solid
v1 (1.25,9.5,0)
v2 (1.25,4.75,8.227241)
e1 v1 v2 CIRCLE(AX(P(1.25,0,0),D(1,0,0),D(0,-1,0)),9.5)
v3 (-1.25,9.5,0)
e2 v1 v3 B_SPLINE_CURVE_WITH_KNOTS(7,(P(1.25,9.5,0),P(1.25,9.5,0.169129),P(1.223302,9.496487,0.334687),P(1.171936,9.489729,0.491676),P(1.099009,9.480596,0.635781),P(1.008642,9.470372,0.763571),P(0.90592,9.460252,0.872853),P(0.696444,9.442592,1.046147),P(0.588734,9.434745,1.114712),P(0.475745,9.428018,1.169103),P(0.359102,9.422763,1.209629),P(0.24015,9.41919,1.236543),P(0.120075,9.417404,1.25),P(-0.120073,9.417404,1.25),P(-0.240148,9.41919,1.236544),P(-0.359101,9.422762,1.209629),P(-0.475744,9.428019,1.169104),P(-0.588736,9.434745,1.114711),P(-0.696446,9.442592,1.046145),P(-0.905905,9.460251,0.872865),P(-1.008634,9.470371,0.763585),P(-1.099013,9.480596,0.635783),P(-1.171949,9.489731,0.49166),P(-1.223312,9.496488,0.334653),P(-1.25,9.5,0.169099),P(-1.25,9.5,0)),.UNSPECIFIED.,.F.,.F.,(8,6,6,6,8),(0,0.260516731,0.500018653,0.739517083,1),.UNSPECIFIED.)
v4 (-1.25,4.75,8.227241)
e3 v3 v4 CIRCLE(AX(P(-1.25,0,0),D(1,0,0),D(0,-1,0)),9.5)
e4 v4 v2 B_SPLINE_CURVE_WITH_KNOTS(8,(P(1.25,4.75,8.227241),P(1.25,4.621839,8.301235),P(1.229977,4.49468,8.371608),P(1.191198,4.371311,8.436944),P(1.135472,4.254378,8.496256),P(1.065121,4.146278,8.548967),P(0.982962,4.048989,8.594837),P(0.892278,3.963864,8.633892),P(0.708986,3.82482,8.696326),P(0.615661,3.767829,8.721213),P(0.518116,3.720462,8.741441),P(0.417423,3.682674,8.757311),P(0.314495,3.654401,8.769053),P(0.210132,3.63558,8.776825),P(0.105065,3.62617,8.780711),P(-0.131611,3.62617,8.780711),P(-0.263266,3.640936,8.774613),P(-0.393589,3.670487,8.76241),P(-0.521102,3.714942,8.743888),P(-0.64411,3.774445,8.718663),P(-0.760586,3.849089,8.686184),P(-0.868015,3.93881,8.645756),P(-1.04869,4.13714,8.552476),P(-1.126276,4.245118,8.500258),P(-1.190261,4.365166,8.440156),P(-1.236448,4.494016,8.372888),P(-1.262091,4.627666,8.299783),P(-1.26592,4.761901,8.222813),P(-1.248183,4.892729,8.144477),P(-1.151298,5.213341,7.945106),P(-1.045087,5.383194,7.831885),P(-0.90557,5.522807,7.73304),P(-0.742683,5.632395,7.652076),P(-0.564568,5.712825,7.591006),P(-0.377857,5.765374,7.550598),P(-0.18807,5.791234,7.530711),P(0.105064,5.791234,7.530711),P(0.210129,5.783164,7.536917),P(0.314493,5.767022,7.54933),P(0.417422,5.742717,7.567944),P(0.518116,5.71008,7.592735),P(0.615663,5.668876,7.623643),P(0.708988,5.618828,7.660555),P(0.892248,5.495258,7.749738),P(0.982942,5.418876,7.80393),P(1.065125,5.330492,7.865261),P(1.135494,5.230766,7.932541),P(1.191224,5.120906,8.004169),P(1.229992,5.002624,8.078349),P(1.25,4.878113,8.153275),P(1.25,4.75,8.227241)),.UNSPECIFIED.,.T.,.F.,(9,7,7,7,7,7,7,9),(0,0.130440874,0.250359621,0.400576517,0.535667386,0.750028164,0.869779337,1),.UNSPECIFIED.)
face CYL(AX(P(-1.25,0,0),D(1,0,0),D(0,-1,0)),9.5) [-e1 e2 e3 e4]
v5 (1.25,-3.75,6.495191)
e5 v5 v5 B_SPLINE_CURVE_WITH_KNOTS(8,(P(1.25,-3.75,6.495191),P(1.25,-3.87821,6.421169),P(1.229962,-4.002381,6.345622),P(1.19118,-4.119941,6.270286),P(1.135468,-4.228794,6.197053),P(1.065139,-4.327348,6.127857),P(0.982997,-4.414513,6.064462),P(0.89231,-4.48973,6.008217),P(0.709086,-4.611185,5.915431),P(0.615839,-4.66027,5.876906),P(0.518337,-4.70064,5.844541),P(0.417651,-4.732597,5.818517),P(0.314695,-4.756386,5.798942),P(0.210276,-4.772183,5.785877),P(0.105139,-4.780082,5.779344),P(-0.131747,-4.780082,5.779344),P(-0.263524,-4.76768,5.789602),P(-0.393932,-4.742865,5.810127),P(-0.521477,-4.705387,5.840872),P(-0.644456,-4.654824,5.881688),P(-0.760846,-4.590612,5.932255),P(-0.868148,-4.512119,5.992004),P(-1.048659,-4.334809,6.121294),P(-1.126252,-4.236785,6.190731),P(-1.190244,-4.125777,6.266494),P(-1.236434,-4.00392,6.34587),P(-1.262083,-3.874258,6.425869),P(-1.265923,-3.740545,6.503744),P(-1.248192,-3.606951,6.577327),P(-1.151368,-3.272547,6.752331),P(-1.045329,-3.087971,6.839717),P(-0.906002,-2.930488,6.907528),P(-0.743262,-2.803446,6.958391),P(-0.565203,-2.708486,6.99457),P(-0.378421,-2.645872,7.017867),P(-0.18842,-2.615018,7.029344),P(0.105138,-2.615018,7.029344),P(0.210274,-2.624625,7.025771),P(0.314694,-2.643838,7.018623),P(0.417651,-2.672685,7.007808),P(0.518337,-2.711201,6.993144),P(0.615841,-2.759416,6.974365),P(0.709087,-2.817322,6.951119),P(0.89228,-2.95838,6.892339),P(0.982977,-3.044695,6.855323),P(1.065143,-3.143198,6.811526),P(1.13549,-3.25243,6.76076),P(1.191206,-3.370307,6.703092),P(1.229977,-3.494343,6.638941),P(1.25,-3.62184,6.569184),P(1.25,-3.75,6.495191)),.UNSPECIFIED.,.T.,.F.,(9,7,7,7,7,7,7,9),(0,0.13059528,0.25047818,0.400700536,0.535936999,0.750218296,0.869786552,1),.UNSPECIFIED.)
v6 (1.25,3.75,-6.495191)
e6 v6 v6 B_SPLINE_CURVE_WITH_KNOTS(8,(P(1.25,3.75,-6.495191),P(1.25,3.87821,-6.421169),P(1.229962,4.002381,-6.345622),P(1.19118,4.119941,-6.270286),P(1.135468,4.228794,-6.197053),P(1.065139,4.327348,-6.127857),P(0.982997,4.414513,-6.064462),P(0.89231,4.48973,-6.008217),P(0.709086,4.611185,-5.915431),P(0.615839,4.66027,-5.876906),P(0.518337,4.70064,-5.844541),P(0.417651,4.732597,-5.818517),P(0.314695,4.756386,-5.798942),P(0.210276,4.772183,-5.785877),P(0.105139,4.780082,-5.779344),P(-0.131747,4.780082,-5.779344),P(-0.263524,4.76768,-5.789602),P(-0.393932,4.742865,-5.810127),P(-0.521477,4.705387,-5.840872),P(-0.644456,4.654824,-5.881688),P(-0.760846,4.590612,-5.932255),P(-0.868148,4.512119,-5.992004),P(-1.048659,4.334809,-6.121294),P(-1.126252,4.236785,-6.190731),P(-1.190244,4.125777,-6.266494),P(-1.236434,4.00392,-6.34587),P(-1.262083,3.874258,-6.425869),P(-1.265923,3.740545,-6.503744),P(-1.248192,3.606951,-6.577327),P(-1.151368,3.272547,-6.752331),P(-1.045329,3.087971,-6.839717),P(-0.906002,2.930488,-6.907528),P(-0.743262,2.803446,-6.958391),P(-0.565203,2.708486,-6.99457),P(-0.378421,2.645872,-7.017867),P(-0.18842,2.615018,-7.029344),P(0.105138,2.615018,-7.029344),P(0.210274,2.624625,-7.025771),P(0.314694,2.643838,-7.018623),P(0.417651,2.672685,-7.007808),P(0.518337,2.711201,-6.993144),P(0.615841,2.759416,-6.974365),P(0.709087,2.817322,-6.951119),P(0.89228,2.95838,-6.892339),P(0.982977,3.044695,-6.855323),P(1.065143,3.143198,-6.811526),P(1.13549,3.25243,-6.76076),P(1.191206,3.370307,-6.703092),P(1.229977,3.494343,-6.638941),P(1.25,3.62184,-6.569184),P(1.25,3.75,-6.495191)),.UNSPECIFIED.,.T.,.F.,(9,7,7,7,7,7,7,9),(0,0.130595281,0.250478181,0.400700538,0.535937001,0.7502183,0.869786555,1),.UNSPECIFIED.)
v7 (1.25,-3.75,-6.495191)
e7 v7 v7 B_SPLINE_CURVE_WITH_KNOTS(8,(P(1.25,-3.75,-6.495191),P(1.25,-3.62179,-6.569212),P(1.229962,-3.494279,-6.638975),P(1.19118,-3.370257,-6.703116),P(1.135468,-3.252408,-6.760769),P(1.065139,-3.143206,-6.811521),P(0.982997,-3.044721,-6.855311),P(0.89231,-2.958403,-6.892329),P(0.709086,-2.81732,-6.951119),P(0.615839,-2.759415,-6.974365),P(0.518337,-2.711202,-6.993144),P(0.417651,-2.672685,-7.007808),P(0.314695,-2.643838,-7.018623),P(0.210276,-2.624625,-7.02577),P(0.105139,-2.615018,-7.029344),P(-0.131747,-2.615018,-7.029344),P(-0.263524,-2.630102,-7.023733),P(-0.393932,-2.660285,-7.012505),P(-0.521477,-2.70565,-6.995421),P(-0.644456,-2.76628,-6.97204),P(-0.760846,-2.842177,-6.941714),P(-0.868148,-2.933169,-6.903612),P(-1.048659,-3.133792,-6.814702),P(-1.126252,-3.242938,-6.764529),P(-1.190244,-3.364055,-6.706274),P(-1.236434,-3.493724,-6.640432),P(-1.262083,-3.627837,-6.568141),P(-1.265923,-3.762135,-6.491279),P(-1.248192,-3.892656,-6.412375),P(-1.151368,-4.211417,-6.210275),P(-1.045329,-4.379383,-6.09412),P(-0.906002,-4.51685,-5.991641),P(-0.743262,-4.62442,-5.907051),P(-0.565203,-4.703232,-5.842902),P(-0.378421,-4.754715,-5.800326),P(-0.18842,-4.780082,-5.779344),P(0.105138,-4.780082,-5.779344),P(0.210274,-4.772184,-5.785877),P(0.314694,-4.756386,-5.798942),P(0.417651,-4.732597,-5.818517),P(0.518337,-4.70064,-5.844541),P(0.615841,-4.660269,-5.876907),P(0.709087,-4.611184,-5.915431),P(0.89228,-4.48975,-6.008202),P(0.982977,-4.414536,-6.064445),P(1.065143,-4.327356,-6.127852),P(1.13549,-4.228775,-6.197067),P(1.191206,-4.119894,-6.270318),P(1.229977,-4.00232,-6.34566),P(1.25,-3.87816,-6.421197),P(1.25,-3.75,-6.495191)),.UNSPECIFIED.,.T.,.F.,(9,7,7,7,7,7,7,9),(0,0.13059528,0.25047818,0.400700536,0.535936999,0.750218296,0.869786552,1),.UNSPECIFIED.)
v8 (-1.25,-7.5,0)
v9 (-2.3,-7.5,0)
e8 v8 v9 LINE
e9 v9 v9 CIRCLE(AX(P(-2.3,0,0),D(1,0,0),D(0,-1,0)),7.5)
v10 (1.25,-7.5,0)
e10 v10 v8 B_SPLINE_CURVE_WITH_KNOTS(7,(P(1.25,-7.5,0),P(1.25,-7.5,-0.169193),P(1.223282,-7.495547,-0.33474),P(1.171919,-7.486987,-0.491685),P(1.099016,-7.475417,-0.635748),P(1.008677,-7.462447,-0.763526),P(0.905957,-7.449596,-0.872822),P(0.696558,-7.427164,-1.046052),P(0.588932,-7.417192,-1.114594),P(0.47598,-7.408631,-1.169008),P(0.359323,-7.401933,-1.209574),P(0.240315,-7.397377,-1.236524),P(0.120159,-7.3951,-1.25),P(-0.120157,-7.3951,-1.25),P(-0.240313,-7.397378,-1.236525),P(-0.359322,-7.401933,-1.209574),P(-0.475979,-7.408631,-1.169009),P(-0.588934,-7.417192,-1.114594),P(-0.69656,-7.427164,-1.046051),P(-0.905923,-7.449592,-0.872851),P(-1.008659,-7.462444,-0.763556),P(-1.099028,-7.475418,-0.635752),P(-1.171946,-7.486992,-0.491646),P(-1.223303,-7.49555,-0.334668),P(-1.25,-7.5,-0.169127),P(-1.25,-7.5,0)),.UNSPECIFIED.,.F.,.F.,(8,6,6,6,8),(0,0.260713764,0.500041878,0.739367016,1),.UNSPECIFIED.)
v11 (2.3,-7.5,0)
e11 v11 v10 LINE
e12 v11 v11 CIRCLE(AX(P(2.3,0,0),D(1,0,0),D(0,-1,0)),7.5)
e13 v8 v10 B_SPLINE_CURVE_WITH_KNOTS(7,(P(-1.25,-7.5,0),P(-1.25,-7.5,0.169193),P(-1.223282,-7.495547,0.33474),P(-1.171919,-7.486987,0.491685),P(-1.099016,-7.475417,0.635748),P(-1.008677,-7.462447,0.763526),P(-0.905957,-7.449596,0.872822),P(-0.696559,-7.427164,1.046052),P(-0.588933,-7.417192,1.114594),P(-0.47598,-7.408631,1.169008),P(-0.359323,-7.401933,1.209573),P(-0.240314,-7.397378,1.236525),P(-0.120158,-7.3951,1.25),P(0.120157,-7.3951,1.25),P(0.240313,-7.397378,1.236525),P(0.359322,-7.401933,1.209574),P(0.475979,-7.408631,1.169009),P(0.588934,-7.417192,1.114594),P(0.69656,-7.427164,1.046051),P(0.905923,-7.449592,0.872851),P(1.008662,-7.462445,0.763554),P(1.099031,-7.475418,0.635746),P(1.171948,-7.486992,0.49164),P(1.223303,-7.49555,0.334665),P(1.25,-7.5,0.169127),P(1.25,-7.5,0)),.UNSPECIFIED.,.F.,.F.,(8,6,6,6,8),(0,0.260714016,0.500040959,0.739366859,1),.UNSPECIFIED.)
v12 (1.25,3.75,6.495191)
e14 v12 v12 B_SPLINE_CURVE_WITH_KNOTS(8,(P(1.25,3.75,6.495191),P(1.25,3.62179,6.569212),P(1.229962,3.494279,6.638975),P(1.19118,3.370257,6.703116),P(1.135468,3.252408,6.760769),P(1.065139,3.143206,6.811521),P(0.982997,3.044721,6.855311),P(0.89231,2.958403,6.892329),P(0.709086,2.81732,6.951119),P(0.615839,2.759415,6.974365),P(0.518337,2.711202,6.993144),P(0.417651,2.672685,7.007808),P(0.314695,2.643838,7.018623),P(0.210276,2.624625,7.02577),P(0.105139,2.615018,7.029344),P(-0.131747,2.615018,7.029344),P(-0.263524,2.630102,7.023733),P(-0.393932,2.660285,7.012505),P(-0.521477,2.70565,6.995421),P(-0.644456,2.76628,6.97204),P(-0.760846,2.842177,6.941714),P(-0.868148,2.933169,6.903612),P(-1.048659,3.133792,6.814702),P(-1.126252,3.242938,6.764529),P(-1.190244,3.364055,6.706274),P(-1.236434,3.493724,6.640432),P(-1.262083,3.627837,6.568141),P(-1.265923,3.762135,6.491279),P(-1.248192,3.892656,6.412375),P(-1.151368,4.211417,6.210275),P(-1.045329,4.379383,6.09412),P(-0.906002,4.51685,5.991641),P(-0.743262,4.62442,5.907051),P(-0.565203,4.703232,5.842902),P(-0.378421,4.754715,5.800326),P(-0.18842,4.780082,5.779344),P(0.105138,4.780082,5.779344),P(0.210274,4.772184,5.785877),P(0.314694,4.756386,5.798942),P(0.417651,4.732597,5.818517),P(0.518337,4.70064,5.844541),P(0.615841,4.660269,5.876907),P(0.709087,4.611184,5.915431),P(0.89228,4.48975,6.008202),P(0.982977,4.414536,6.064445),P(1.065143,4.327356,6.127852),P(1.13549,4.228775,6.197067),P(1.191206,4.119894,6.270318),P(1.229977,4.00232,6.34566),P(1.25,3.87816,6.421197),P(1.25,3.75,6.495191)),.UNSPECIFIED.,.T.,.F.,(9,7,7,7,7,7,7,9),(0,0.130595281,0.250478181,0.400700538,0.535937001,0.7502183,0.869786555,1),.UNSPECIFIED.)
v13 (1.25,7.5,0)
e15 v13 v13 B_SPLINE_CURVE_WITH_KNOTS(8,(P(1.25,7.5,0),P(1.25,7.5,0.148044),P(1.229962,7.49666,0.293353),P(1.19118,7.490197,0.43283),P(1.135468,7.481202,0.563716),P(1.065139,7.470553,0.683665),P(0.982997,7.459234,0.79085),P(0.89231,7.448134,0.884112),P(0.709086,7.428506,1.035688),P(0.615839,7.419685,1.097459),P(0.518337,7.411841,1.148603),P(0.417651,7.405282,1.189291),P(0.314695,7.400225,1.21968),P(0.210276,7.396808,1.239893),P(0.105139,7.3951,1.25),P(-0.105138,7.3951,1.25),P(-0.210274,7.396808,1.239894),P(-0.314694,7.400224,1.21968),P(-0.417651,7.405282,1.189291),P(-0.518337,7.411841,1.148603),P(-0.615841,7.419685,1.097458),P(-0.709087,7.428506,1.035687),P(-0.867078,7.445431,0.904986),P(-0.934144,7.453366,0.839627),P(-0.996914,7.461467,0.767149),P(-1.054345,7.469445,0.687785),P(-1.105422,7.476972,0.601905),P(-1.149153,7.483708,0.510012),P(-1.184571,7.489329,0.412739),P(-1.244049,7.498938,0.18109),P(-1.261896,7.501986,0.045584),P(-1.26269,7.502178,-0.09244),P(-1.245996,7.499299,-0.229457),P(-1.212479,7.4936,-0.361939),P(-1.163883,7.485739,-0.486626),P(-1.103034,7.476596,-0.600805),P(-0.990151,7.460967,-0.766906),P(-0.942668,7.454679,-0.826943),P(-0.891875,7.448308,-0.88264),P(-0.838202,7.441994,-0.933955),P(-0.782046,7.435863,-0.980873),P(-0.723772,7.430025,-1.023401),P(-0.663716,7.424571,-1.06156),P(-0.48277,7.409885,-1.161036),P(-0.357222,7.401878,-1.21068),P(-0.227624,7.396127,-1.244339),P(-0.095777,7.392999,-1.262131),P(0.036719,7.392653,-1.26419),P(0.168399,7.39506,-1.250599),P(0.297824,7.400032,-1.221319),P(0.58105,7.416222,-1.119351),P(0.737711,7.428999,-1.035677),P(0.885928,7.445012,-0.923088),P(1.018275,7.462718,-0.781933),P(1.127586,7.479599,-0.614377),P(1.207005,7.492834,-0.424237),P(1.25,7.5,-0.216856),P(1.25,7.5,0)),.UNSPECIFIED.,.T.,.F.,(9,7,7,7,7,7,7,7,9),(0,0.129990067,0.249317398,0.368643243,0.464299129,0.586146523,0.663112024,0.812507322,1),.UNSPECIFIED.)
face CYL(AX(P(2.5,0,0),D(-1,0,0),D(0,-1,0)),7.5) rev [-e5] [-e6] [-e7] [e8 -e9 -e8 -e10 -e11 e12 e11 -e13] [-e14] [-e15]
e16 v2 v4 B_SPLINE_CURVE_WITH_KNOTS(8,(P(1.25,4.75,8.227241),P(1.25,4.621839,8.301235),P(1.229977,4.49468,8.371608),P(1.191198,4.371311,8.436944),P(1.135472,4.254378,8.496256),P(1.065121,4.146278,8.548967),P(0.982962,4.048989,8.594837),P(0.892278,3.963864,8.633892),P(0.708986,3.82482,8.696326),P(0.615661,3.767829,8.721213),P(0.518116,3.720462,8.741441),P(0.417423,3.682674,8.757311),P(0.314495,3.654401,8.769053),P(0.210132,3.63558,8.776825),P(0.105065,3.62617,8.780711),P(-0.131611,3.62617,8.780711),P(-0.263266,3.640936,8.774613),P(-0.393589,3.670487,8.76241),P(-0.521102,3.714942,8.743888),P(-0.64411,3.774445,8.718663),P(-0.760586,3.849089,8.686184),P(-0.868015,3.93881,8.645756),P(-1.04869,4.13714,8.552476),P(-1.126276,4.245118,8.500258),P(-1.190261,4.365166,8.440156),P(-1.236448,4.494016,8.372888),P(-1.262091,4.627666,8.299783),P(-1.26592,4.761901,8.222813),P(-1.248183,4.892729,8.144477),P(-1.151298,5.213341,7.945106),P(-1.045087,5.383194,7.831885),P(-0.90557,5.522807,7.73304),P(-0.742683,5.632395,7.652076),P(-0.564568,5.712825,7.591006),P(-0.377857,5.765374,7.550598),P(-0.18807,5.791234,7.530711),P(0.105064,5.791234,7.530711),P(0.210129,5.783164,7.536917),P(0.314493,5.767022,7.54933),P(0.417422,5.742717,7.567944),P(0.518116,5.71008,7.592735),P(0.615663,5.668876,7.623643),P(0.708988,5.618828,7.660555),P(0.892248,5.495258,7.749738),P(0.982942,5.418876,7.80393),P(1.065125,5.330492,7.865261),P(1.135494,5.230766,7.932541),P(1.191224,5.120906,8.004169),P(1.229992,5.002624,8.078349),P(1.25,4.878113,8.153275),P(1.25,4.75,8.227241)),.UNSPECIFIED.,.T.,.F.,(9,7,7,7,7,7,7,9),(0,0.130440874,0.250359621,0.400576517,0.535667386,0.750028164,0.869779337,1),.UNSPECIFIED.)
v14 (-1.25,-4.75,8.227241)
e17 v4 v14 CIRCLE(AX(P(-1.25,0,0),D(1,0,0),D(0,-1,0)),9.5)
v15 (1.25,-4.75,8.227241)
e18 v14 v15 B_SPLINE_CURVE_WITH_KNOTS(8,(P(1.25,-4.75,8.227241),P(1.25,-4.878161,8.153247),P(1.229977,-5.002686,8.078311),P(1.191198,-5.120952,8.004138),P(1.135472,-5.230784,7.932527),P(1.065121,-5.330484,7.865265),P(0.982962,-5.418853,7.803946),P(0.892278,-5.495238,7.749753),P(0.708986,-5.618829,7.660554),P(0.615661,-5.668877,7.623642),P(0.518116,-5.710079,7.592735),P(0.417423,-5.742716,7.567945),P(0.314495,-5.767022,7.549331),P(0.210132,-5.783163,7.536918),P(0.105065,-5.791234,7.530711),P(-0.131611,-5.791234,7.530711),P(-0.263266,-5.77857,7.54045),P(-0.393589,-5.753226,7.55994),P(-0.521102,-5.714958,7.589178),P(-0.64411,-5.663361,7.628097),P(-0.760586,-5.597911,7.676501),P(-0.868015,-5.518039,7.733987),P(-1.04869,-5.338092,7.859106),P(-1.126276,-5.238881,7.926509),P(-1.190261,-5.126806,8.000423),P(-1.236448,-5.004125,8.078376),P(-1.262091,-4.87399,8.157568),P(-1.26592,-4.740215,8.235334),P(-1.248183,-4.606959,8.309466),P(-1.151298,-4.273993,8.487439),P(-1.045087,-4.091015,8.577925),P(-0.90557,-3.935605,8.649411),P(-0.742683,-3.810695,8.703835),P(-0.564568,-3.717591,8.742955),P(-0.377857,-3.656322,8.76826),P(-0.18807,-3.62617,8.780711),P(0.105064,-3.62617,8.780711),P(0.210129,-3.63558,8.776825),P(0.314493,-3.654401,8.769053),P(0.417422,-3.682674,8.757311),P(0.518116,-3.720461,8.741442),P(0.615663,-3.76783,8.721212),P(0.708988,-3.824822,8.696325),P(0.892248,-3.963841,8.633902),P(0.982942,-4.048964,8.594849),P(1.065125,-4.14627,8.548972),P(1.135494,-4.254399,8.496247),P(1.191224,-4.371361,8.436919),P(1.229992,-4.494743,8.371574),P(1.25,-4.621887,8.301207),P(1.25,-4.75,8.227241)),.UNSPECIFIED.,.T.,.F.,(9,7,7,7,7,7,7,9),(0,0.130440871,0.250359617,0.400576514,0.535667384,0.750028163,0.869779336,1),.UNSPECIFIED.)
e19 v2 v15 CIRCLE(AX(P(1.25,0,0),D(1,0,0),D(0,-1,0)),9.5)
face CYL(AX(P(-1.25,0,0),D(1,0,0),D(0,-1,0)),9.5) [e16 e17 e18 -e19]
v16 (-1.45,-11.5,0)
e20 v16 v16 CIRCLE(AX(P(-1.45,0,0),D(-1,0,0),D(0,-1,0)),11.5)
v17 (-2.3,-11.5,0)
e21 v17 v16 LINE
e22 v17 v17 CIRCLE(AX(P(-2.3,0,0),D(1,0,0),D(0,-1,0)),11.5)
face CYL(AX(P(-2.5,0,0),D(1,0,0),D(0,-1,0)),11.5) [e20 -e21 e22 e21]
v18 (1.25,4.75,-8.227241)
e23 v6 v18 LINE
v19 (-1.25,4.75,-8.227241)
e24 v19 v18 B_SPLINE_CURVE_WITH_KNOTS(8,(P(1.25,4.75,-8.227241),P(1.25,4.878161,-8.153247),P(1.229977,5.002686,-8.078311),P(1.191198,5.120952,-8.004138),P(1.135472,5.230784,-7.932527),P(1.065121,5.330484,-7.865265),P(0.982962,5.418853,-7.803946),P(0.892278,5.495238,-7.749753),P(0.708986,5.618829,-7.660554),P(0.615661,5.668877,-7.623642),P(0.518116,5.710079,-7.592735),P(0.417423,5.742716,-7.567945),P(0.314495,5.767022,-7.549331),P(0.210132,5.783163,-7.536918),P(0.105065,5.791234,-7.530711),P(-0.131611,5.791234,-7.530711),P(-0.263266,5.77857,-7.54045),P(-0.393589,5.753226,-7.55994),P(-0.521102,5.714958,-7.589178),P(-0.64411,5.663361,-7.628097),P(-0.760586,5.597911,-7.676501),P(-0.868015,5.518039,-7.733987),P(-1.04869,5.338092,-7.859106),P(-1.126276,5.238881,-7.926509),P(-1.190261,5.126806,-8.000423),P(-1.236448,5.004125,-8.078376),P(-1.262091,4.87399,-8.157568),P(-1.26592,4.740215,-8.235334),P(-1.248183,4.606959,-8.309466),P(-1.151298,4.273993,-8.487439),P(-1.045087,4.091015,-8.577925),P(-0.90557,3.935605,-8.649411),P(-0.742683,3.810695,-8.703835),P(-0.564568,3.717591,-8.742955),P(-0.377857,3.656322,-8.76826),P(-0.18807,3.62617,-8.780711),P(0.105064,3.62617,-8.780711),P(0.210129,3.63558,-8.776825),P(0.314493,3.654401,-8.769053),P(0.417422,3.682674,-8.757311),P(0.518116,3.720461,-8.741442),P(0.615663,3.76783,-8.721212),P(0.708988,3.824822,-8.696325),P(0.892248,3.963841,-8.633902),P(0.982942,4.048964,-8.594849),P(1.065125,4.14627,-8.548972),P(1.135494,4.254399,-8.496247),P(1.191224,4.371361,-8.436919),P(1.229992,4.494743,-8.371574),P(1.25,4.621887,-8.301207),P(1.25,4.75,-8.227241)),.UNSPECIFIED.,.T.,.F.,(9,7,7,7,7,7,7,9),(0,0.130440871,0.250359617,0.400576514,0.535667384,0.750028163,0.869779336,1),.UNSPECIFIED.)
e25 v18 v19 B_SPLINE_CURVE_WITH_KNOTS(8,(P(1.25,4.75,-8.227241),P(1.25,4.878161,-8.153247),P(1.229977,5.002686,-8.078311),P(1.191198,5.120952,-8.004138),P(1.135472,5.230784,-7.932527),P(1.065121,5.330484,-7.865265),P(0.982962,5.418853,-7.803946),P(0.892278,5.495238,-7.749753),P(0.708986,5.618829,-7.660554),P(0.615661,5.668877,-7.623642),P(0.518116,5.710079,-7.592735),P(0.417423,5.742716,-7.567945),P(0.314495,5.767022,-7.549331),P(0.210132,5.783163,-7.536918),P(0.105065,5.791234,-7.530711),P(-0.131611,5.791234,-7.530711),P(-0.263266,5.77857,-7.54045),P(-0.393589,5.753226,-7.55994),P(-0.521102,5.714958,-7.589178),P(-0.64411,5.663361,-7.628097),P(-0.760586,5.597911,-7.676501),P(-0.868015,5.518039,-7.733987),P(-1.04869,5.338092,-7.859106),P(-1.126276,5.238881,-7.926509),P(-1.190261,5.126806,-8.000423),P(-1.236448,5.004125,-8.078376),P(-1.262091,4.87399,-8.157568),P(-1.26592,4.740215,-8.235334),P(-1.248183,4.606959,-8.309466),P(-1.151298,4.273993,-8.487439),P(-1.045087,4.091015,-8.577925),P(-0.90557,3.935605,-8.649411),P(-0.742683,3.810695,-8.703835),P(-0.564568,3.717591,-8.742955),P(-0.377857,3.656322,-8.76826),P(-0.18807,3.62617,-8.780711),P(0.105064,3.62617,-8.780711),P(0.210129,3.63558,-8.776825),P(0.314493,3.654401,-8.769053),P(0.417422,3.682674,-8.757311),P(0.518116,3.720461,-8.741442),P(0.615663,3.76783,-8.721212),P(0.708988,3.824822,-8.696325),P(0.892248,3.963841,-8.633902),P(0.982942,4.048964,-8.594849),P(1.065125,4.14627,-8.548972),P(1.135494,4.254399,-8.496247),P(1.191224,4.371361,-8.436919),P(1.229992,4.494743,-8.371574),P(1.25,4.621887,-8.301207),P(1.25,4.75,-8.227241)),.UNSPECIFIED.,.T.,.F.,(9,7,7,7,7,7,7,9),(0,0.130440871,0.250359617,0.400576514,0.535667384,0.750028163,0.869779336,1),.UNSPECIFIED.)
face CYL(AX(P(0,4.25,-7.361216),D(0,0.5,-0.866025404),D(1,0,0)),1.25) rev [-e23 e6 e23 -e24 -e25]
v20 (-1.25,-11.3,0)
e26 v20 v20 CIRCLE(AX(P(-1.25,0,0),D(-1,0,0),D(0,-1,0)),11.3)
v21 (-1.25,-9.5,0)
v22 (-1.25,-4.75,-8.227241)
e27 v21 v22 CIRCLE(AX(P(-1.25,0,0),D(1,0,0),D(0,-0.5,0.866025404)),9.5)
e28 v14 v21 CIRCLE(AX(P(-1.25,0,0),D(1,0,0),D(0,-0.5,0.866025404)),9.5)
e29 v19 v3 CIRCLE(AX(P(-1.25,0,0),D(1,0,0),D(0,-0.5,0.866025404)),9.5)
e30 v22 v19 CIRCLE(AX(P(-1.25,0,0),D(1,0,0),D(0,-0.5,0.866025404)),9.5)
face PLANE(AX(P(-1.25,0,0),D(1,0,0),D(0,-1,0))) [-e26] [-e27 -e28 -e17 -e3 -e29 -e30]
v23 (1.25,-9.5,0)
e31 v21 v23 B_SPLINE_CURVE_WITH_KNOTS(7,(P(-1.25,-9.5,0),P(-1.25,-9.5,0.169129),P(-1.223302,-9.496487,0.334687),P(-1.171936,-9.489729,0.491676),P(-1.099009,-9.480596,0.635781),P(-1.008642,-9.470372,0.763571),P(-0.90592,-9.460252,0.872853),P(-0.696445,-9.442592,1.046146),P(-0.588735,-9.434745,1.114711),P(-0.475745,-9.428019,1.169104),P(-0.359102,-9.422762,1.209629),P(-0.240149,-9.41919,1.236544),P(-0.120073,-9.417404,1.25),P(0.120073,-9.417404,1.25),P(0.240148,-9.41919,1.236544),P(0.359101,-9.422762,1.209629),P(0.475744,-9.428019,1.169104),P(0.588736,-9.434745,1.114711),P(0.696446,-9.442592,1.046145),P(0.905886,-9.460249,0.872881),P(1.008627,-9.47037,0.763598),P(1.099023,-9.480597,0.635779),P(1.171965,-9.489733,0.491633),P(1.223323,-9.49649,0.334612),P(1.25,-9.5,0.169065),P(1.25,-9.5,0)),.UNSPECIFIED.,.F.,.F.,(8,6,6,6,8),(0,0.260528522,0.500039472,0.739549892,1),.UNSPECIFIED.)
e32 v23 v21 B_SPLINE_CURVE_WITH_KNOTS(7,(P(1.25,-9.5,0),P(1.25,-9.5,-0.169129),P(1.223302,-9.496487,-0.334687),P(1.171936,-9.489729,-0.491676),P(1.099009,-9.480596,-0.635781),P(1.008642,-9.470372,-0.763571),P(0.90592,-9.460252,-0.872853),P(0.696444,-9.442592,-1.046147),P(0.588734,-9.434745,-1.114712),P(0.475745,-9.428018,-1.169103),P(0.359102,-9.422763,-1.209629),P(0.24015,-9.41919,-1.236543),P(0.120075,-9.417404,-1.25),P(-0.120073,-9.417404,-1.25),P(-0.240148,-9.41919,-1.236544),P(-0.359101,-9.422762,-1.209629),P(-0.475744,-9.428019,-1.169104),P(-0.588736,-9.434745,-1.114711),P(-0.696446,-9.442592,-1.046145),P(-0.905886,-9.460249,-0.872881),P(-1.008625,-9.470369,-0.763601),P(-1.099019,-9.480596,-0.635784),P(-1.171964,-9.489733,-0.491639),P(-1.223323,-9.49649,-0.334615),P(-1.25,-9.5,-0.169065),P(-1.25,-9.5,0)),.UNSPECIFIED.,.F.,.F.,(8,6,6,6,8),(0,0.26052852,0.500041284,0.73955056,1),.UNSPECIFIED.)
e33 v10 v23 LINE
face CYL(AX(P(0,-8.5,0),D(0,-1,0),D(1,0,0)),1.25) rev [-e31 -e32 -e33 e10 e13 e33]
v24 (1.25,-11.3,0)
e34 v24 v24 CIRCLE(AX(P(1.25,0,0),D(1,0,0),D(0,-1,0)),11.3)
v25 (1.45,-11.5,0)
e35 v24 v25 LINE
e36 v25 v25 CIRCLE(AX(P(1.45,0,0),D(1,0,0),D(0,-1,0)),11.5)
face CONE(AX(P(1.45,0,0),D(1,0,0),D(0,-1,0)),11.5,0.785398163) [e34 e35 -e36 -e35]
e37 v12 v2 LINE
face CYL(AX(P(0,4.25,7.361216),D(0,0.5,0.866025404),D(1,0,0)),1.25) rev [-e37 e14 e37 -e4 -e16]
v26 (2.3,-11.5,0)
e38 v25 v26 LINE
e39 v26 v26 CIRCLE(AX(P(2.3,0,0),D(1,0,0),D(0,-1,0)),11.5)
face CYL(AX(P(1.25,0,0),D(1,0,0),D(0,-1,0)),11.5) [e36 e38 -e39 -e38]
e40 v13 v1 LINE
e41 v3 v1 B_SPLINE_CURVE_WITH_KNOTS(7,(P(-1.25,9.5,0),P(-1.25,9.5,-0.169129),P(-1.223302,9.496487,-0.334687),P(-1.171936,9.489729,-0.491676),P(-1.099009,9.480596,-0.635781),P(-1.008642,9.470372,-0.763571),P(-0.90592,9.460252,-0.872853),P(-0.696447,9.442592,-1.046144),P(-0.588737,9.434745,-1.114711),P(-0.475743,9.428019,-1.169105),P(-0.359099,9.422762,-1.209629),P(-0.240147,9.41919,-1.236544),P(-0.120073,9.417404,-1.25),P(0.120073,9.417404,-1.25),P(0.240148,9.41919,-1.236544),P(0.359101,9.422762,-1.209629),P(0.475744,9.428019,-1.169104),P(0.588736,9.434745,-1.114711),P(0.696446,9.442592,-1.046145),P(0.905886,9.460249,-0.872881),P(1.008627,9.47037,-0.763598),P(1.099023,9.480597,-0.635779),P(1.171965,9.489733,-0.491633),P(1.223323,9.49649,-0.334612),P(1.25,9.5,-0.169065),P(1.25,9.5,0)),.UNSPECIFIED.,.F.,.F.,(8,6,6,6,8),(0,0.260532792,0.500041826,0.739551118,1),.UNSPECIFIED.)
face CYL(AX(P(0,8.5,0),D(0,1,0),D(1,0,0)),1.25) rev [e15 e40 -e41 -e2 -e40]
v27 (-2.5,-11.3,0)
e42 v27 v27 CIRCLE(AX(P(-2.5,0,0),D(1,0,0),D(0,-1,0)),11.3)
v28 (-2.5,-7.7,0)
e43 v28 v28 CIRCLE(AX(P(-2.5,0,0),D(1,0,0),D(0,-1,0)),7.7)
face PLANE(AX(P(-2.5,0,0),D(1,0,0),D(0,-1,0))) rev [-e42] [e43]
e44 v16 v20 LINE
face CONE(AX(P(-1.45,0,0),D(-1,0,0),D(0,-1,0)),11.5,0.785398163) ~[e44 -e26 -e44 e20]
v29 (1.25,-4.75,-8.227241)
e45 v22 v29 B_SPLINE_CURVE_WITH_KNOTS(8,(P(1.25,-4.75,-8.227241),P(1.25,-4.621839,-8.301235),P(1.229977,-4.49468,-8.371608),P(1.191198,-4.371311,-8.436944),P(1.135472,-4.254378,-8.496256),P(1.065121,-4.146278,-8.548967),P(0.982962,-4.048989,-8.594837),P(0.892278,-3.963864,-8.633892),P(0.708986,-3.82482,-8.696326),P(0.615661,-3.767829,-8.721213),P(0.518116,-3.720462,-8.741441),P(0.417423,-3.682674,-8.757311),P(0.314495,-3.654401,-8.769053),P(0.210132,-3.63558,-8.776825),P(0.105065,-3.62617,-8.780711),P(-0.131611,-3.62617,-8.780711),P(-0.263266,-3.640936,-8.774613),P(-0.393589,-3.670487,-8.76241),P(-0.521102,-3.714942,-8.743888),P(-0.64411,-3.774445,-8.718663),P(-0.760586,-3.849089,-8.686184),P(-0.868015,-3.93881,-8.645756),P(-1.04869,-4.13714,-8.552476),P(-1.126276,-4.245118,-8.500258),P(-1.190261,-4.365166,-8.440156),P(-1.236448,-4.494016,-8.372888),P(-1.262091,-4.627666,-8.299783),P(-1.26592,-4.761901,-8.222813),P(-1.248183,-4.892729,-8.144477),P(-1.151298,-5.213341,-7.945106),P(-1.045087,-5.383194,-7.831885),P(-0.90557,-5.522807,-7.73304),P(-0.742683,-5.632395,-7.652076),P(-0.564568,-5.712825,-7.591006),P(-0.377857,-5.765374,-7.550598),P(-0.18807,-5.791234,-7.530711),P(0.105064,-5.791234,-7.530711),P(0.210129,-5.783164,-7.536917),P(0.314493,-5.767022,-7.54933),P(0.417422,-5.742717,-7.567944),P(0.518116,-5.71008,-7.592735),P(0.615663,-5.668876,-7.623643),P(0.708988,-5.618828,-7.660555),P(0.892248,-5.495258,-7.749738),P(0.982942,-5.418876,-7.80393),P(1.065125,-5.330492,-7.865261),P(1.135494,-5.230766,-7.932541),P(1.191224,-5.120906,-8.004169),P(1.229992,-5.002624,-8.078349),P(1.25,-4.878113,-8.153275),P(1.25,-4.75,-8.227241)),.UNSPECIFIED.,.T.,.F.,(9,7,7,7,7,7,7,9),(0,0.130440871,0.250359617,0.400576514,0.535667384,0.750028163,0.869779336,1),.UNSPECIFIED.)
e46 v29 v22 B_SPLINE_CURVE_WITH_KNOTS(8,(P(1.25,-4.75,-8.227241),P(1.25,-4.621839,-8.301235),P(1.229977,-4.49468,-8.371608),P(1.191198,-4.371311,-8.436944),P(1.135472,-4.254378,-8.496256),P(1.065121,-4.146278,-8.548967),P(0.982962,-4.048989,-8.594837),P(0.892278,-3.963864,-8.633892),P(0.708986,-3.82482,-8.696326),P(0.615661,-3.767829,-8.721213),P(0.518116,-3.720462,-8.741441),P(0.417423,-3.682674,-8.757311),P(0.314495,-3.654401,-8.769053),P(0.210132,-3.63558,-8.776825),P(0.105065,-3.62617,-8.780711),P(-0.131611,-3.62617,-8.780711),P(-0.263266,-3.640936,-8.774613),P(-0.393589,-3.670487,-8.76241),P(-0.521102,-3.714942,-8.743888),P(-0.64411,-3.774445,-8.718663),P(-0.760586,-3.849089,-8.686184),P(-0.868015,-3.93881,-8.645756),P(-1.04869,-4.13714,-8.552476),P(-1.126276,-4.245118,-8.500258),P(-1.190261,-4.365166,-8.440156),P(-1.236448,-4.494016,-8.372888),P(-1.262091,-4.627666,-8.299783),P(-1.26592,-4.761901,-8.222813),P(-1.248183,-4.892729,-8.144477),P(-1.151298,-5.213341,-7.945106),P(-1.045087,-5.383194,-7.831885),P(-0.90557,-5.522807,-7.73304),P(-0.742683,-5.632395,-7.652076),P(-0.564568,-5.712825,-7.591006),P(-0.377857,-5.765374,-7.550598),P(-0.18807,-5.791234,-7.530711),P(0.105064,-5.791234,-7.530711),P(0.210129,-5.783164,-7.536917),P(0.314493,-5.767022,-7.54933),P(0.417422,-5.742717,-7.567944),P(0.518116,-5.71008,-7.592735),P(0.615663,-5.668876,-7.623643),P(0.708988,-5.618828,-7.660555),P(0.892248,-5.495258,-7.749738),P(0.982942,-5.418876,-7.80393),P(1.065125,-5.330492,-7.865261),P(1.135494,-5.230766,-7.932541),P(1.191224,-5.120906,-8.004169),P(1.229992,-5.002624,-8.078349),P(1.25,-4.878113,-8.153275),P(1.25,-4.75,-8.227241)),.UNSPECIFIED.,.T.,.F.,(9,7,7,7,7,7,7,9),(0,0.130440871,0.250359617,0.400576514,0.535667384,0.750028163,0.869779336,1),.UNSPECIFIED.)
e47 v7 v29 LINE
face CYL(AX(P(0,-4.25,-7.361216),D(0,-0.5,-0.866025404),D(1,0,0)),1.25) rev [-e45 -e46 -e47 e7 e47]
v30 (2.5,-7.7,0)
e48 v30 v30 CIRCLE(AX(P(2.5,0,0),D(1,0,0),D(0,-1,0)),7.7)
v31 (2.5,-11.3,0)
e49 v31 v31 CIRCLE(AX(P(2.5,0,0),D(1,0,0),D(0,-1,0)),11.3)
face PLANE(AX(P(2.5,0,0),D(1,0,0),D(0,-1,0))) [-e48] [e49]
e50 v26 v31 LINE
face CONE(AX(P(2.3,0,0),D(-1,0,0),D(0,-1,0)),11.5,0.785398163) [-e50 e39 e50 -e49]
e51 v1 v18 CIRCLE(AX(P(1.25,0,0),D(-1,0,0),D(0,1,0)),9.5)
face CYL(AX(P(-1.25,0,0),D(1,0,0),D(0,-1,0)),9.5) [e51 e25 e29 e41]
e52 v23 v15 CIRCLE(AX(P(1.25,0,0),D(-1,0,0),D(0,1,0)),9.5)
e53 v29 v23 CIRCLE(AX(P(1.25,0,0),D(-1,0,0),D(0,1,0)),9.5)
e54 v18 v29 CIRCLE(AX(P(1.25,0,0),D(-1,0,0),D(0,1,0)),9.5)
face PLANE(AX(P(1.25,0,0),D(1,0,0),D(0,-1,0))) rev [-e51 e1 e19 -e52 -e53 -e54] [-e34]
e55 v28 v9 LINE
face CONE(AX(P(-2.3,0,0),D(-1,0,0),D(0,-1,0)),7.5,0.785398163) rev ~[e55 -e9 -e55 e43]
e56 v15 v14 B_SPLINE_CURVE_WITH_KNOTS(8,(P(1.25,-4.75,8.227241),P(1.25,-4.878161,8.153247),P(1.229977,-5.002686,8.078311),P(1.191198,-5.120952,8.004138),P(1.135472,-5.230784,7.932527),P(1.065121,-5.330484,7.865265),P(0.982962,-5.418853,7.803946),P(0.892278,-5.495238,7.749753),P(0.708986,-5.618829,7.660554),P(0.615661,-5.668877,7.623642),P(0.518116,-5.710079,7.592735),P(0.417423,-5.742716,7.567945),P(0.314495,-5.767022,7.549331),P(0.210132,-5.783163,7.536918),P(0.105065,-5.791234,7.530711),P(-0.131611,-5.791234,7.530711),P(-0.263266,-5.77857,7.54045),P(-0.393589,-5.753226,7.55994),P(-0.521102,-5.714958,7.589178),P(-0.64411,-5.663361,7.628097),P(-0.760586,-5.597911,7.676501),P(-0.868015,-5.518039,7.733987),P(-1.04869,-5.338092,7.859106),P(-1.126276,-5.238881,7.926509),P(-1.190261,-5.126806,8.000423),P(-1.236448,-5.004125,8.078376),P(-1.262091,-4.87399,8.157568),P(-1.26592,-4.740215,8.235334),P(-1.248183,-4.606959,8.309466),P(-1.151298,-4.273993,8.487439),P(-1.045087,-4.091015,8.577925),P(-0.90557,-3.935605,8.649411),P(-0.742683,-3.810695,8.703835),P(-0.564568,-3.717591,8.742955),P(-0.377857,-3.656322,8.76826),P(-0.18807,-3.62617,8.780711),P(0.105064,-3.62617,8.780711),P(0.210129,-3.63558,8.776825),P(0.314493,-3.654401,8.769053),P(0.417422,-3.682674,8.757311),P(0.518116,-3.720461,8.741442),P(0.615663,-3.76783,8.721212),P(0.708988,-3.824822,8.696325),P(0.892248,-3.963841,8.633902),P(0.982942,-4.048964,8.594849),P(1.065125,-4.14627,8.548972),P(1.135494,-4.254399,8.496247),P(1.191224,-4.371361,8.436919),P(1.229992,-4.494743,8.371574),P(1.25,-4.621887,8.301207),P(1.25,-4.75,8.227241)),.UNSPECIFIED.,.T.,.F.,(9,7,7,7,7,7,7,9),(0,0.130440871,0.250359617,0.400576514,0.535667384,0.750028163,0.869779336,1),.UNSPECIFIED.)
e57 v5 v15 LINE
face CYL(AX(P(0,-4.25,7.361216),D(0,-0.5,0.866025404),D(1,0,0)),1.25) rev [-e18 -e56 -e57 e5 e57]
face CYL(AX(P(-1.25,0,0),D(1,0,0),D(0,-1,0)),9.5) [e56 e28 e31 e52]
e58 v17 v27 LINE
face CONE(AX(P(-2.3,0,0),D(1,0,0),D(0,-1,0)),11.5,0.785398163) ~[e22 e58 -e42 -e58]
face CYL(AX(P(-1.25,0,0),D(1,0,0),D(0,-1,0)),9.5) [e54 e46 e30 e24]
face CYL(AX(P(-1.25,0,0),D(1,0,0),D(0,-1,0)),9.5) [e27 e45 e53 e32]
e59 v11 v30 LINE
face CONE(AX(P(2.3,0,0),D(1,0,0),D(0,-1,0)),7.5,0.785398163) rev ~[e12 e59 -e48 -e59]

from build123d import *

# Parameters (mm, degrees)
F0_W     = 1.25
F0_H     = 9
F3_COUNT = 6
F5_SIZE  = 0.2
F6_SIZE  = 0.2


with BuildPart() as f1:
    # F0 (on Top) → F1 (revolve)
    with BuildSketch(Plane.XY):
        Polygon((2.5, -7.5), (0, -7.5), (-2.5, -7.5), (-2.5, -11.5), (-1.25, -11.5), (-1.25, -9.5), (0, -9.5), (1.25, -9.5), (1.25, -11.5), (2.5, -11.5), align=None)
    revolve(axis=Axis((6.057695, 0, 0), (1, 0, 0)))


with BuildPart() as f2:
    # F0 (on Top) → F2 (revolve)
    with BuildSketch(Plane.XY):
        with Locations((0.625, 8.5)):
            Rectangle(F0_W, F0_H)
    revolve(axis=Axis((0, 8.5, 0), (0, -1, 0)))


with BuildPart() as f3_1:
    # F3: instance of F2
    add(f2.part.rotate(Axis((6.057695, 0, 0), (1, 0, 0)), 1 * 360 / F3_COUNT))


with BuildPart() as f3_2:
    # F3: instance of F2
    add(f2.part.rotate(Axis((6.057695, 0, 0), (1, 0, 0)), 2 * 360 / F3_COUNT))


with BuildPart() as f3_3:
    # F3: instance of F2
    add(f2.part.rotate(Axis((6.057695, 0, 0), (1, 0, 0)), 3 * 360 / F3_COUNT))


with BuildPart() as f3_4:
    # F3: instance of F2
    add(f2.part.rotate(Axis((6.057695, 0, 0), (1, 0, 0)), 4 * 360 / F3_COUNT))


with BuildPart() as f3_5:
    # F3: instance of F2
    add(f2.part.rotate(Axis((6.057695, 0, 0), (1, 0, 0)), 5 * 360 / F3_COUNT))


with BuildPart() as f1_1:
    add(f1.part)

    # F4: cut F2, F3_2, F3_1, F3_3, F3_4, F3_5
    add(f2.part, mode=Mode.SUBTRACT)
    add(f3_2.part, mode=Mode.SUBTRACT)
    add(f3_1.part, mode=Mode.SUBTRACT)
    add(f3_3.part, mode=Mode.SUBTRACT)
    add(f3_4.part, mode=Mode.SUBTRACT)
    add(f3_5.part, mode=Mode.SUBTRACT)

    # F5
    f5_edges = [f1_1.edges().sort_by_distance(p)[0] for p in [
        (2.5, 11.5, 0),
        (-2.5, 11.5, 0),
    ]]
    chamfer(f5_edges, length=F5_SIZE)

    # F6
    f6_edges = [f1_1.edges().sort_by_distance(p)[0] for p in [
        (-1.25, 11.5, 0),
        (1.25, 11.5, 0),
        (2.5, 7.5, 0),
        (-2.5, 7.5, 0),
    ]]
    chamfer(f6_edges, length=F6_SIZE)


solid = f1_1.part
